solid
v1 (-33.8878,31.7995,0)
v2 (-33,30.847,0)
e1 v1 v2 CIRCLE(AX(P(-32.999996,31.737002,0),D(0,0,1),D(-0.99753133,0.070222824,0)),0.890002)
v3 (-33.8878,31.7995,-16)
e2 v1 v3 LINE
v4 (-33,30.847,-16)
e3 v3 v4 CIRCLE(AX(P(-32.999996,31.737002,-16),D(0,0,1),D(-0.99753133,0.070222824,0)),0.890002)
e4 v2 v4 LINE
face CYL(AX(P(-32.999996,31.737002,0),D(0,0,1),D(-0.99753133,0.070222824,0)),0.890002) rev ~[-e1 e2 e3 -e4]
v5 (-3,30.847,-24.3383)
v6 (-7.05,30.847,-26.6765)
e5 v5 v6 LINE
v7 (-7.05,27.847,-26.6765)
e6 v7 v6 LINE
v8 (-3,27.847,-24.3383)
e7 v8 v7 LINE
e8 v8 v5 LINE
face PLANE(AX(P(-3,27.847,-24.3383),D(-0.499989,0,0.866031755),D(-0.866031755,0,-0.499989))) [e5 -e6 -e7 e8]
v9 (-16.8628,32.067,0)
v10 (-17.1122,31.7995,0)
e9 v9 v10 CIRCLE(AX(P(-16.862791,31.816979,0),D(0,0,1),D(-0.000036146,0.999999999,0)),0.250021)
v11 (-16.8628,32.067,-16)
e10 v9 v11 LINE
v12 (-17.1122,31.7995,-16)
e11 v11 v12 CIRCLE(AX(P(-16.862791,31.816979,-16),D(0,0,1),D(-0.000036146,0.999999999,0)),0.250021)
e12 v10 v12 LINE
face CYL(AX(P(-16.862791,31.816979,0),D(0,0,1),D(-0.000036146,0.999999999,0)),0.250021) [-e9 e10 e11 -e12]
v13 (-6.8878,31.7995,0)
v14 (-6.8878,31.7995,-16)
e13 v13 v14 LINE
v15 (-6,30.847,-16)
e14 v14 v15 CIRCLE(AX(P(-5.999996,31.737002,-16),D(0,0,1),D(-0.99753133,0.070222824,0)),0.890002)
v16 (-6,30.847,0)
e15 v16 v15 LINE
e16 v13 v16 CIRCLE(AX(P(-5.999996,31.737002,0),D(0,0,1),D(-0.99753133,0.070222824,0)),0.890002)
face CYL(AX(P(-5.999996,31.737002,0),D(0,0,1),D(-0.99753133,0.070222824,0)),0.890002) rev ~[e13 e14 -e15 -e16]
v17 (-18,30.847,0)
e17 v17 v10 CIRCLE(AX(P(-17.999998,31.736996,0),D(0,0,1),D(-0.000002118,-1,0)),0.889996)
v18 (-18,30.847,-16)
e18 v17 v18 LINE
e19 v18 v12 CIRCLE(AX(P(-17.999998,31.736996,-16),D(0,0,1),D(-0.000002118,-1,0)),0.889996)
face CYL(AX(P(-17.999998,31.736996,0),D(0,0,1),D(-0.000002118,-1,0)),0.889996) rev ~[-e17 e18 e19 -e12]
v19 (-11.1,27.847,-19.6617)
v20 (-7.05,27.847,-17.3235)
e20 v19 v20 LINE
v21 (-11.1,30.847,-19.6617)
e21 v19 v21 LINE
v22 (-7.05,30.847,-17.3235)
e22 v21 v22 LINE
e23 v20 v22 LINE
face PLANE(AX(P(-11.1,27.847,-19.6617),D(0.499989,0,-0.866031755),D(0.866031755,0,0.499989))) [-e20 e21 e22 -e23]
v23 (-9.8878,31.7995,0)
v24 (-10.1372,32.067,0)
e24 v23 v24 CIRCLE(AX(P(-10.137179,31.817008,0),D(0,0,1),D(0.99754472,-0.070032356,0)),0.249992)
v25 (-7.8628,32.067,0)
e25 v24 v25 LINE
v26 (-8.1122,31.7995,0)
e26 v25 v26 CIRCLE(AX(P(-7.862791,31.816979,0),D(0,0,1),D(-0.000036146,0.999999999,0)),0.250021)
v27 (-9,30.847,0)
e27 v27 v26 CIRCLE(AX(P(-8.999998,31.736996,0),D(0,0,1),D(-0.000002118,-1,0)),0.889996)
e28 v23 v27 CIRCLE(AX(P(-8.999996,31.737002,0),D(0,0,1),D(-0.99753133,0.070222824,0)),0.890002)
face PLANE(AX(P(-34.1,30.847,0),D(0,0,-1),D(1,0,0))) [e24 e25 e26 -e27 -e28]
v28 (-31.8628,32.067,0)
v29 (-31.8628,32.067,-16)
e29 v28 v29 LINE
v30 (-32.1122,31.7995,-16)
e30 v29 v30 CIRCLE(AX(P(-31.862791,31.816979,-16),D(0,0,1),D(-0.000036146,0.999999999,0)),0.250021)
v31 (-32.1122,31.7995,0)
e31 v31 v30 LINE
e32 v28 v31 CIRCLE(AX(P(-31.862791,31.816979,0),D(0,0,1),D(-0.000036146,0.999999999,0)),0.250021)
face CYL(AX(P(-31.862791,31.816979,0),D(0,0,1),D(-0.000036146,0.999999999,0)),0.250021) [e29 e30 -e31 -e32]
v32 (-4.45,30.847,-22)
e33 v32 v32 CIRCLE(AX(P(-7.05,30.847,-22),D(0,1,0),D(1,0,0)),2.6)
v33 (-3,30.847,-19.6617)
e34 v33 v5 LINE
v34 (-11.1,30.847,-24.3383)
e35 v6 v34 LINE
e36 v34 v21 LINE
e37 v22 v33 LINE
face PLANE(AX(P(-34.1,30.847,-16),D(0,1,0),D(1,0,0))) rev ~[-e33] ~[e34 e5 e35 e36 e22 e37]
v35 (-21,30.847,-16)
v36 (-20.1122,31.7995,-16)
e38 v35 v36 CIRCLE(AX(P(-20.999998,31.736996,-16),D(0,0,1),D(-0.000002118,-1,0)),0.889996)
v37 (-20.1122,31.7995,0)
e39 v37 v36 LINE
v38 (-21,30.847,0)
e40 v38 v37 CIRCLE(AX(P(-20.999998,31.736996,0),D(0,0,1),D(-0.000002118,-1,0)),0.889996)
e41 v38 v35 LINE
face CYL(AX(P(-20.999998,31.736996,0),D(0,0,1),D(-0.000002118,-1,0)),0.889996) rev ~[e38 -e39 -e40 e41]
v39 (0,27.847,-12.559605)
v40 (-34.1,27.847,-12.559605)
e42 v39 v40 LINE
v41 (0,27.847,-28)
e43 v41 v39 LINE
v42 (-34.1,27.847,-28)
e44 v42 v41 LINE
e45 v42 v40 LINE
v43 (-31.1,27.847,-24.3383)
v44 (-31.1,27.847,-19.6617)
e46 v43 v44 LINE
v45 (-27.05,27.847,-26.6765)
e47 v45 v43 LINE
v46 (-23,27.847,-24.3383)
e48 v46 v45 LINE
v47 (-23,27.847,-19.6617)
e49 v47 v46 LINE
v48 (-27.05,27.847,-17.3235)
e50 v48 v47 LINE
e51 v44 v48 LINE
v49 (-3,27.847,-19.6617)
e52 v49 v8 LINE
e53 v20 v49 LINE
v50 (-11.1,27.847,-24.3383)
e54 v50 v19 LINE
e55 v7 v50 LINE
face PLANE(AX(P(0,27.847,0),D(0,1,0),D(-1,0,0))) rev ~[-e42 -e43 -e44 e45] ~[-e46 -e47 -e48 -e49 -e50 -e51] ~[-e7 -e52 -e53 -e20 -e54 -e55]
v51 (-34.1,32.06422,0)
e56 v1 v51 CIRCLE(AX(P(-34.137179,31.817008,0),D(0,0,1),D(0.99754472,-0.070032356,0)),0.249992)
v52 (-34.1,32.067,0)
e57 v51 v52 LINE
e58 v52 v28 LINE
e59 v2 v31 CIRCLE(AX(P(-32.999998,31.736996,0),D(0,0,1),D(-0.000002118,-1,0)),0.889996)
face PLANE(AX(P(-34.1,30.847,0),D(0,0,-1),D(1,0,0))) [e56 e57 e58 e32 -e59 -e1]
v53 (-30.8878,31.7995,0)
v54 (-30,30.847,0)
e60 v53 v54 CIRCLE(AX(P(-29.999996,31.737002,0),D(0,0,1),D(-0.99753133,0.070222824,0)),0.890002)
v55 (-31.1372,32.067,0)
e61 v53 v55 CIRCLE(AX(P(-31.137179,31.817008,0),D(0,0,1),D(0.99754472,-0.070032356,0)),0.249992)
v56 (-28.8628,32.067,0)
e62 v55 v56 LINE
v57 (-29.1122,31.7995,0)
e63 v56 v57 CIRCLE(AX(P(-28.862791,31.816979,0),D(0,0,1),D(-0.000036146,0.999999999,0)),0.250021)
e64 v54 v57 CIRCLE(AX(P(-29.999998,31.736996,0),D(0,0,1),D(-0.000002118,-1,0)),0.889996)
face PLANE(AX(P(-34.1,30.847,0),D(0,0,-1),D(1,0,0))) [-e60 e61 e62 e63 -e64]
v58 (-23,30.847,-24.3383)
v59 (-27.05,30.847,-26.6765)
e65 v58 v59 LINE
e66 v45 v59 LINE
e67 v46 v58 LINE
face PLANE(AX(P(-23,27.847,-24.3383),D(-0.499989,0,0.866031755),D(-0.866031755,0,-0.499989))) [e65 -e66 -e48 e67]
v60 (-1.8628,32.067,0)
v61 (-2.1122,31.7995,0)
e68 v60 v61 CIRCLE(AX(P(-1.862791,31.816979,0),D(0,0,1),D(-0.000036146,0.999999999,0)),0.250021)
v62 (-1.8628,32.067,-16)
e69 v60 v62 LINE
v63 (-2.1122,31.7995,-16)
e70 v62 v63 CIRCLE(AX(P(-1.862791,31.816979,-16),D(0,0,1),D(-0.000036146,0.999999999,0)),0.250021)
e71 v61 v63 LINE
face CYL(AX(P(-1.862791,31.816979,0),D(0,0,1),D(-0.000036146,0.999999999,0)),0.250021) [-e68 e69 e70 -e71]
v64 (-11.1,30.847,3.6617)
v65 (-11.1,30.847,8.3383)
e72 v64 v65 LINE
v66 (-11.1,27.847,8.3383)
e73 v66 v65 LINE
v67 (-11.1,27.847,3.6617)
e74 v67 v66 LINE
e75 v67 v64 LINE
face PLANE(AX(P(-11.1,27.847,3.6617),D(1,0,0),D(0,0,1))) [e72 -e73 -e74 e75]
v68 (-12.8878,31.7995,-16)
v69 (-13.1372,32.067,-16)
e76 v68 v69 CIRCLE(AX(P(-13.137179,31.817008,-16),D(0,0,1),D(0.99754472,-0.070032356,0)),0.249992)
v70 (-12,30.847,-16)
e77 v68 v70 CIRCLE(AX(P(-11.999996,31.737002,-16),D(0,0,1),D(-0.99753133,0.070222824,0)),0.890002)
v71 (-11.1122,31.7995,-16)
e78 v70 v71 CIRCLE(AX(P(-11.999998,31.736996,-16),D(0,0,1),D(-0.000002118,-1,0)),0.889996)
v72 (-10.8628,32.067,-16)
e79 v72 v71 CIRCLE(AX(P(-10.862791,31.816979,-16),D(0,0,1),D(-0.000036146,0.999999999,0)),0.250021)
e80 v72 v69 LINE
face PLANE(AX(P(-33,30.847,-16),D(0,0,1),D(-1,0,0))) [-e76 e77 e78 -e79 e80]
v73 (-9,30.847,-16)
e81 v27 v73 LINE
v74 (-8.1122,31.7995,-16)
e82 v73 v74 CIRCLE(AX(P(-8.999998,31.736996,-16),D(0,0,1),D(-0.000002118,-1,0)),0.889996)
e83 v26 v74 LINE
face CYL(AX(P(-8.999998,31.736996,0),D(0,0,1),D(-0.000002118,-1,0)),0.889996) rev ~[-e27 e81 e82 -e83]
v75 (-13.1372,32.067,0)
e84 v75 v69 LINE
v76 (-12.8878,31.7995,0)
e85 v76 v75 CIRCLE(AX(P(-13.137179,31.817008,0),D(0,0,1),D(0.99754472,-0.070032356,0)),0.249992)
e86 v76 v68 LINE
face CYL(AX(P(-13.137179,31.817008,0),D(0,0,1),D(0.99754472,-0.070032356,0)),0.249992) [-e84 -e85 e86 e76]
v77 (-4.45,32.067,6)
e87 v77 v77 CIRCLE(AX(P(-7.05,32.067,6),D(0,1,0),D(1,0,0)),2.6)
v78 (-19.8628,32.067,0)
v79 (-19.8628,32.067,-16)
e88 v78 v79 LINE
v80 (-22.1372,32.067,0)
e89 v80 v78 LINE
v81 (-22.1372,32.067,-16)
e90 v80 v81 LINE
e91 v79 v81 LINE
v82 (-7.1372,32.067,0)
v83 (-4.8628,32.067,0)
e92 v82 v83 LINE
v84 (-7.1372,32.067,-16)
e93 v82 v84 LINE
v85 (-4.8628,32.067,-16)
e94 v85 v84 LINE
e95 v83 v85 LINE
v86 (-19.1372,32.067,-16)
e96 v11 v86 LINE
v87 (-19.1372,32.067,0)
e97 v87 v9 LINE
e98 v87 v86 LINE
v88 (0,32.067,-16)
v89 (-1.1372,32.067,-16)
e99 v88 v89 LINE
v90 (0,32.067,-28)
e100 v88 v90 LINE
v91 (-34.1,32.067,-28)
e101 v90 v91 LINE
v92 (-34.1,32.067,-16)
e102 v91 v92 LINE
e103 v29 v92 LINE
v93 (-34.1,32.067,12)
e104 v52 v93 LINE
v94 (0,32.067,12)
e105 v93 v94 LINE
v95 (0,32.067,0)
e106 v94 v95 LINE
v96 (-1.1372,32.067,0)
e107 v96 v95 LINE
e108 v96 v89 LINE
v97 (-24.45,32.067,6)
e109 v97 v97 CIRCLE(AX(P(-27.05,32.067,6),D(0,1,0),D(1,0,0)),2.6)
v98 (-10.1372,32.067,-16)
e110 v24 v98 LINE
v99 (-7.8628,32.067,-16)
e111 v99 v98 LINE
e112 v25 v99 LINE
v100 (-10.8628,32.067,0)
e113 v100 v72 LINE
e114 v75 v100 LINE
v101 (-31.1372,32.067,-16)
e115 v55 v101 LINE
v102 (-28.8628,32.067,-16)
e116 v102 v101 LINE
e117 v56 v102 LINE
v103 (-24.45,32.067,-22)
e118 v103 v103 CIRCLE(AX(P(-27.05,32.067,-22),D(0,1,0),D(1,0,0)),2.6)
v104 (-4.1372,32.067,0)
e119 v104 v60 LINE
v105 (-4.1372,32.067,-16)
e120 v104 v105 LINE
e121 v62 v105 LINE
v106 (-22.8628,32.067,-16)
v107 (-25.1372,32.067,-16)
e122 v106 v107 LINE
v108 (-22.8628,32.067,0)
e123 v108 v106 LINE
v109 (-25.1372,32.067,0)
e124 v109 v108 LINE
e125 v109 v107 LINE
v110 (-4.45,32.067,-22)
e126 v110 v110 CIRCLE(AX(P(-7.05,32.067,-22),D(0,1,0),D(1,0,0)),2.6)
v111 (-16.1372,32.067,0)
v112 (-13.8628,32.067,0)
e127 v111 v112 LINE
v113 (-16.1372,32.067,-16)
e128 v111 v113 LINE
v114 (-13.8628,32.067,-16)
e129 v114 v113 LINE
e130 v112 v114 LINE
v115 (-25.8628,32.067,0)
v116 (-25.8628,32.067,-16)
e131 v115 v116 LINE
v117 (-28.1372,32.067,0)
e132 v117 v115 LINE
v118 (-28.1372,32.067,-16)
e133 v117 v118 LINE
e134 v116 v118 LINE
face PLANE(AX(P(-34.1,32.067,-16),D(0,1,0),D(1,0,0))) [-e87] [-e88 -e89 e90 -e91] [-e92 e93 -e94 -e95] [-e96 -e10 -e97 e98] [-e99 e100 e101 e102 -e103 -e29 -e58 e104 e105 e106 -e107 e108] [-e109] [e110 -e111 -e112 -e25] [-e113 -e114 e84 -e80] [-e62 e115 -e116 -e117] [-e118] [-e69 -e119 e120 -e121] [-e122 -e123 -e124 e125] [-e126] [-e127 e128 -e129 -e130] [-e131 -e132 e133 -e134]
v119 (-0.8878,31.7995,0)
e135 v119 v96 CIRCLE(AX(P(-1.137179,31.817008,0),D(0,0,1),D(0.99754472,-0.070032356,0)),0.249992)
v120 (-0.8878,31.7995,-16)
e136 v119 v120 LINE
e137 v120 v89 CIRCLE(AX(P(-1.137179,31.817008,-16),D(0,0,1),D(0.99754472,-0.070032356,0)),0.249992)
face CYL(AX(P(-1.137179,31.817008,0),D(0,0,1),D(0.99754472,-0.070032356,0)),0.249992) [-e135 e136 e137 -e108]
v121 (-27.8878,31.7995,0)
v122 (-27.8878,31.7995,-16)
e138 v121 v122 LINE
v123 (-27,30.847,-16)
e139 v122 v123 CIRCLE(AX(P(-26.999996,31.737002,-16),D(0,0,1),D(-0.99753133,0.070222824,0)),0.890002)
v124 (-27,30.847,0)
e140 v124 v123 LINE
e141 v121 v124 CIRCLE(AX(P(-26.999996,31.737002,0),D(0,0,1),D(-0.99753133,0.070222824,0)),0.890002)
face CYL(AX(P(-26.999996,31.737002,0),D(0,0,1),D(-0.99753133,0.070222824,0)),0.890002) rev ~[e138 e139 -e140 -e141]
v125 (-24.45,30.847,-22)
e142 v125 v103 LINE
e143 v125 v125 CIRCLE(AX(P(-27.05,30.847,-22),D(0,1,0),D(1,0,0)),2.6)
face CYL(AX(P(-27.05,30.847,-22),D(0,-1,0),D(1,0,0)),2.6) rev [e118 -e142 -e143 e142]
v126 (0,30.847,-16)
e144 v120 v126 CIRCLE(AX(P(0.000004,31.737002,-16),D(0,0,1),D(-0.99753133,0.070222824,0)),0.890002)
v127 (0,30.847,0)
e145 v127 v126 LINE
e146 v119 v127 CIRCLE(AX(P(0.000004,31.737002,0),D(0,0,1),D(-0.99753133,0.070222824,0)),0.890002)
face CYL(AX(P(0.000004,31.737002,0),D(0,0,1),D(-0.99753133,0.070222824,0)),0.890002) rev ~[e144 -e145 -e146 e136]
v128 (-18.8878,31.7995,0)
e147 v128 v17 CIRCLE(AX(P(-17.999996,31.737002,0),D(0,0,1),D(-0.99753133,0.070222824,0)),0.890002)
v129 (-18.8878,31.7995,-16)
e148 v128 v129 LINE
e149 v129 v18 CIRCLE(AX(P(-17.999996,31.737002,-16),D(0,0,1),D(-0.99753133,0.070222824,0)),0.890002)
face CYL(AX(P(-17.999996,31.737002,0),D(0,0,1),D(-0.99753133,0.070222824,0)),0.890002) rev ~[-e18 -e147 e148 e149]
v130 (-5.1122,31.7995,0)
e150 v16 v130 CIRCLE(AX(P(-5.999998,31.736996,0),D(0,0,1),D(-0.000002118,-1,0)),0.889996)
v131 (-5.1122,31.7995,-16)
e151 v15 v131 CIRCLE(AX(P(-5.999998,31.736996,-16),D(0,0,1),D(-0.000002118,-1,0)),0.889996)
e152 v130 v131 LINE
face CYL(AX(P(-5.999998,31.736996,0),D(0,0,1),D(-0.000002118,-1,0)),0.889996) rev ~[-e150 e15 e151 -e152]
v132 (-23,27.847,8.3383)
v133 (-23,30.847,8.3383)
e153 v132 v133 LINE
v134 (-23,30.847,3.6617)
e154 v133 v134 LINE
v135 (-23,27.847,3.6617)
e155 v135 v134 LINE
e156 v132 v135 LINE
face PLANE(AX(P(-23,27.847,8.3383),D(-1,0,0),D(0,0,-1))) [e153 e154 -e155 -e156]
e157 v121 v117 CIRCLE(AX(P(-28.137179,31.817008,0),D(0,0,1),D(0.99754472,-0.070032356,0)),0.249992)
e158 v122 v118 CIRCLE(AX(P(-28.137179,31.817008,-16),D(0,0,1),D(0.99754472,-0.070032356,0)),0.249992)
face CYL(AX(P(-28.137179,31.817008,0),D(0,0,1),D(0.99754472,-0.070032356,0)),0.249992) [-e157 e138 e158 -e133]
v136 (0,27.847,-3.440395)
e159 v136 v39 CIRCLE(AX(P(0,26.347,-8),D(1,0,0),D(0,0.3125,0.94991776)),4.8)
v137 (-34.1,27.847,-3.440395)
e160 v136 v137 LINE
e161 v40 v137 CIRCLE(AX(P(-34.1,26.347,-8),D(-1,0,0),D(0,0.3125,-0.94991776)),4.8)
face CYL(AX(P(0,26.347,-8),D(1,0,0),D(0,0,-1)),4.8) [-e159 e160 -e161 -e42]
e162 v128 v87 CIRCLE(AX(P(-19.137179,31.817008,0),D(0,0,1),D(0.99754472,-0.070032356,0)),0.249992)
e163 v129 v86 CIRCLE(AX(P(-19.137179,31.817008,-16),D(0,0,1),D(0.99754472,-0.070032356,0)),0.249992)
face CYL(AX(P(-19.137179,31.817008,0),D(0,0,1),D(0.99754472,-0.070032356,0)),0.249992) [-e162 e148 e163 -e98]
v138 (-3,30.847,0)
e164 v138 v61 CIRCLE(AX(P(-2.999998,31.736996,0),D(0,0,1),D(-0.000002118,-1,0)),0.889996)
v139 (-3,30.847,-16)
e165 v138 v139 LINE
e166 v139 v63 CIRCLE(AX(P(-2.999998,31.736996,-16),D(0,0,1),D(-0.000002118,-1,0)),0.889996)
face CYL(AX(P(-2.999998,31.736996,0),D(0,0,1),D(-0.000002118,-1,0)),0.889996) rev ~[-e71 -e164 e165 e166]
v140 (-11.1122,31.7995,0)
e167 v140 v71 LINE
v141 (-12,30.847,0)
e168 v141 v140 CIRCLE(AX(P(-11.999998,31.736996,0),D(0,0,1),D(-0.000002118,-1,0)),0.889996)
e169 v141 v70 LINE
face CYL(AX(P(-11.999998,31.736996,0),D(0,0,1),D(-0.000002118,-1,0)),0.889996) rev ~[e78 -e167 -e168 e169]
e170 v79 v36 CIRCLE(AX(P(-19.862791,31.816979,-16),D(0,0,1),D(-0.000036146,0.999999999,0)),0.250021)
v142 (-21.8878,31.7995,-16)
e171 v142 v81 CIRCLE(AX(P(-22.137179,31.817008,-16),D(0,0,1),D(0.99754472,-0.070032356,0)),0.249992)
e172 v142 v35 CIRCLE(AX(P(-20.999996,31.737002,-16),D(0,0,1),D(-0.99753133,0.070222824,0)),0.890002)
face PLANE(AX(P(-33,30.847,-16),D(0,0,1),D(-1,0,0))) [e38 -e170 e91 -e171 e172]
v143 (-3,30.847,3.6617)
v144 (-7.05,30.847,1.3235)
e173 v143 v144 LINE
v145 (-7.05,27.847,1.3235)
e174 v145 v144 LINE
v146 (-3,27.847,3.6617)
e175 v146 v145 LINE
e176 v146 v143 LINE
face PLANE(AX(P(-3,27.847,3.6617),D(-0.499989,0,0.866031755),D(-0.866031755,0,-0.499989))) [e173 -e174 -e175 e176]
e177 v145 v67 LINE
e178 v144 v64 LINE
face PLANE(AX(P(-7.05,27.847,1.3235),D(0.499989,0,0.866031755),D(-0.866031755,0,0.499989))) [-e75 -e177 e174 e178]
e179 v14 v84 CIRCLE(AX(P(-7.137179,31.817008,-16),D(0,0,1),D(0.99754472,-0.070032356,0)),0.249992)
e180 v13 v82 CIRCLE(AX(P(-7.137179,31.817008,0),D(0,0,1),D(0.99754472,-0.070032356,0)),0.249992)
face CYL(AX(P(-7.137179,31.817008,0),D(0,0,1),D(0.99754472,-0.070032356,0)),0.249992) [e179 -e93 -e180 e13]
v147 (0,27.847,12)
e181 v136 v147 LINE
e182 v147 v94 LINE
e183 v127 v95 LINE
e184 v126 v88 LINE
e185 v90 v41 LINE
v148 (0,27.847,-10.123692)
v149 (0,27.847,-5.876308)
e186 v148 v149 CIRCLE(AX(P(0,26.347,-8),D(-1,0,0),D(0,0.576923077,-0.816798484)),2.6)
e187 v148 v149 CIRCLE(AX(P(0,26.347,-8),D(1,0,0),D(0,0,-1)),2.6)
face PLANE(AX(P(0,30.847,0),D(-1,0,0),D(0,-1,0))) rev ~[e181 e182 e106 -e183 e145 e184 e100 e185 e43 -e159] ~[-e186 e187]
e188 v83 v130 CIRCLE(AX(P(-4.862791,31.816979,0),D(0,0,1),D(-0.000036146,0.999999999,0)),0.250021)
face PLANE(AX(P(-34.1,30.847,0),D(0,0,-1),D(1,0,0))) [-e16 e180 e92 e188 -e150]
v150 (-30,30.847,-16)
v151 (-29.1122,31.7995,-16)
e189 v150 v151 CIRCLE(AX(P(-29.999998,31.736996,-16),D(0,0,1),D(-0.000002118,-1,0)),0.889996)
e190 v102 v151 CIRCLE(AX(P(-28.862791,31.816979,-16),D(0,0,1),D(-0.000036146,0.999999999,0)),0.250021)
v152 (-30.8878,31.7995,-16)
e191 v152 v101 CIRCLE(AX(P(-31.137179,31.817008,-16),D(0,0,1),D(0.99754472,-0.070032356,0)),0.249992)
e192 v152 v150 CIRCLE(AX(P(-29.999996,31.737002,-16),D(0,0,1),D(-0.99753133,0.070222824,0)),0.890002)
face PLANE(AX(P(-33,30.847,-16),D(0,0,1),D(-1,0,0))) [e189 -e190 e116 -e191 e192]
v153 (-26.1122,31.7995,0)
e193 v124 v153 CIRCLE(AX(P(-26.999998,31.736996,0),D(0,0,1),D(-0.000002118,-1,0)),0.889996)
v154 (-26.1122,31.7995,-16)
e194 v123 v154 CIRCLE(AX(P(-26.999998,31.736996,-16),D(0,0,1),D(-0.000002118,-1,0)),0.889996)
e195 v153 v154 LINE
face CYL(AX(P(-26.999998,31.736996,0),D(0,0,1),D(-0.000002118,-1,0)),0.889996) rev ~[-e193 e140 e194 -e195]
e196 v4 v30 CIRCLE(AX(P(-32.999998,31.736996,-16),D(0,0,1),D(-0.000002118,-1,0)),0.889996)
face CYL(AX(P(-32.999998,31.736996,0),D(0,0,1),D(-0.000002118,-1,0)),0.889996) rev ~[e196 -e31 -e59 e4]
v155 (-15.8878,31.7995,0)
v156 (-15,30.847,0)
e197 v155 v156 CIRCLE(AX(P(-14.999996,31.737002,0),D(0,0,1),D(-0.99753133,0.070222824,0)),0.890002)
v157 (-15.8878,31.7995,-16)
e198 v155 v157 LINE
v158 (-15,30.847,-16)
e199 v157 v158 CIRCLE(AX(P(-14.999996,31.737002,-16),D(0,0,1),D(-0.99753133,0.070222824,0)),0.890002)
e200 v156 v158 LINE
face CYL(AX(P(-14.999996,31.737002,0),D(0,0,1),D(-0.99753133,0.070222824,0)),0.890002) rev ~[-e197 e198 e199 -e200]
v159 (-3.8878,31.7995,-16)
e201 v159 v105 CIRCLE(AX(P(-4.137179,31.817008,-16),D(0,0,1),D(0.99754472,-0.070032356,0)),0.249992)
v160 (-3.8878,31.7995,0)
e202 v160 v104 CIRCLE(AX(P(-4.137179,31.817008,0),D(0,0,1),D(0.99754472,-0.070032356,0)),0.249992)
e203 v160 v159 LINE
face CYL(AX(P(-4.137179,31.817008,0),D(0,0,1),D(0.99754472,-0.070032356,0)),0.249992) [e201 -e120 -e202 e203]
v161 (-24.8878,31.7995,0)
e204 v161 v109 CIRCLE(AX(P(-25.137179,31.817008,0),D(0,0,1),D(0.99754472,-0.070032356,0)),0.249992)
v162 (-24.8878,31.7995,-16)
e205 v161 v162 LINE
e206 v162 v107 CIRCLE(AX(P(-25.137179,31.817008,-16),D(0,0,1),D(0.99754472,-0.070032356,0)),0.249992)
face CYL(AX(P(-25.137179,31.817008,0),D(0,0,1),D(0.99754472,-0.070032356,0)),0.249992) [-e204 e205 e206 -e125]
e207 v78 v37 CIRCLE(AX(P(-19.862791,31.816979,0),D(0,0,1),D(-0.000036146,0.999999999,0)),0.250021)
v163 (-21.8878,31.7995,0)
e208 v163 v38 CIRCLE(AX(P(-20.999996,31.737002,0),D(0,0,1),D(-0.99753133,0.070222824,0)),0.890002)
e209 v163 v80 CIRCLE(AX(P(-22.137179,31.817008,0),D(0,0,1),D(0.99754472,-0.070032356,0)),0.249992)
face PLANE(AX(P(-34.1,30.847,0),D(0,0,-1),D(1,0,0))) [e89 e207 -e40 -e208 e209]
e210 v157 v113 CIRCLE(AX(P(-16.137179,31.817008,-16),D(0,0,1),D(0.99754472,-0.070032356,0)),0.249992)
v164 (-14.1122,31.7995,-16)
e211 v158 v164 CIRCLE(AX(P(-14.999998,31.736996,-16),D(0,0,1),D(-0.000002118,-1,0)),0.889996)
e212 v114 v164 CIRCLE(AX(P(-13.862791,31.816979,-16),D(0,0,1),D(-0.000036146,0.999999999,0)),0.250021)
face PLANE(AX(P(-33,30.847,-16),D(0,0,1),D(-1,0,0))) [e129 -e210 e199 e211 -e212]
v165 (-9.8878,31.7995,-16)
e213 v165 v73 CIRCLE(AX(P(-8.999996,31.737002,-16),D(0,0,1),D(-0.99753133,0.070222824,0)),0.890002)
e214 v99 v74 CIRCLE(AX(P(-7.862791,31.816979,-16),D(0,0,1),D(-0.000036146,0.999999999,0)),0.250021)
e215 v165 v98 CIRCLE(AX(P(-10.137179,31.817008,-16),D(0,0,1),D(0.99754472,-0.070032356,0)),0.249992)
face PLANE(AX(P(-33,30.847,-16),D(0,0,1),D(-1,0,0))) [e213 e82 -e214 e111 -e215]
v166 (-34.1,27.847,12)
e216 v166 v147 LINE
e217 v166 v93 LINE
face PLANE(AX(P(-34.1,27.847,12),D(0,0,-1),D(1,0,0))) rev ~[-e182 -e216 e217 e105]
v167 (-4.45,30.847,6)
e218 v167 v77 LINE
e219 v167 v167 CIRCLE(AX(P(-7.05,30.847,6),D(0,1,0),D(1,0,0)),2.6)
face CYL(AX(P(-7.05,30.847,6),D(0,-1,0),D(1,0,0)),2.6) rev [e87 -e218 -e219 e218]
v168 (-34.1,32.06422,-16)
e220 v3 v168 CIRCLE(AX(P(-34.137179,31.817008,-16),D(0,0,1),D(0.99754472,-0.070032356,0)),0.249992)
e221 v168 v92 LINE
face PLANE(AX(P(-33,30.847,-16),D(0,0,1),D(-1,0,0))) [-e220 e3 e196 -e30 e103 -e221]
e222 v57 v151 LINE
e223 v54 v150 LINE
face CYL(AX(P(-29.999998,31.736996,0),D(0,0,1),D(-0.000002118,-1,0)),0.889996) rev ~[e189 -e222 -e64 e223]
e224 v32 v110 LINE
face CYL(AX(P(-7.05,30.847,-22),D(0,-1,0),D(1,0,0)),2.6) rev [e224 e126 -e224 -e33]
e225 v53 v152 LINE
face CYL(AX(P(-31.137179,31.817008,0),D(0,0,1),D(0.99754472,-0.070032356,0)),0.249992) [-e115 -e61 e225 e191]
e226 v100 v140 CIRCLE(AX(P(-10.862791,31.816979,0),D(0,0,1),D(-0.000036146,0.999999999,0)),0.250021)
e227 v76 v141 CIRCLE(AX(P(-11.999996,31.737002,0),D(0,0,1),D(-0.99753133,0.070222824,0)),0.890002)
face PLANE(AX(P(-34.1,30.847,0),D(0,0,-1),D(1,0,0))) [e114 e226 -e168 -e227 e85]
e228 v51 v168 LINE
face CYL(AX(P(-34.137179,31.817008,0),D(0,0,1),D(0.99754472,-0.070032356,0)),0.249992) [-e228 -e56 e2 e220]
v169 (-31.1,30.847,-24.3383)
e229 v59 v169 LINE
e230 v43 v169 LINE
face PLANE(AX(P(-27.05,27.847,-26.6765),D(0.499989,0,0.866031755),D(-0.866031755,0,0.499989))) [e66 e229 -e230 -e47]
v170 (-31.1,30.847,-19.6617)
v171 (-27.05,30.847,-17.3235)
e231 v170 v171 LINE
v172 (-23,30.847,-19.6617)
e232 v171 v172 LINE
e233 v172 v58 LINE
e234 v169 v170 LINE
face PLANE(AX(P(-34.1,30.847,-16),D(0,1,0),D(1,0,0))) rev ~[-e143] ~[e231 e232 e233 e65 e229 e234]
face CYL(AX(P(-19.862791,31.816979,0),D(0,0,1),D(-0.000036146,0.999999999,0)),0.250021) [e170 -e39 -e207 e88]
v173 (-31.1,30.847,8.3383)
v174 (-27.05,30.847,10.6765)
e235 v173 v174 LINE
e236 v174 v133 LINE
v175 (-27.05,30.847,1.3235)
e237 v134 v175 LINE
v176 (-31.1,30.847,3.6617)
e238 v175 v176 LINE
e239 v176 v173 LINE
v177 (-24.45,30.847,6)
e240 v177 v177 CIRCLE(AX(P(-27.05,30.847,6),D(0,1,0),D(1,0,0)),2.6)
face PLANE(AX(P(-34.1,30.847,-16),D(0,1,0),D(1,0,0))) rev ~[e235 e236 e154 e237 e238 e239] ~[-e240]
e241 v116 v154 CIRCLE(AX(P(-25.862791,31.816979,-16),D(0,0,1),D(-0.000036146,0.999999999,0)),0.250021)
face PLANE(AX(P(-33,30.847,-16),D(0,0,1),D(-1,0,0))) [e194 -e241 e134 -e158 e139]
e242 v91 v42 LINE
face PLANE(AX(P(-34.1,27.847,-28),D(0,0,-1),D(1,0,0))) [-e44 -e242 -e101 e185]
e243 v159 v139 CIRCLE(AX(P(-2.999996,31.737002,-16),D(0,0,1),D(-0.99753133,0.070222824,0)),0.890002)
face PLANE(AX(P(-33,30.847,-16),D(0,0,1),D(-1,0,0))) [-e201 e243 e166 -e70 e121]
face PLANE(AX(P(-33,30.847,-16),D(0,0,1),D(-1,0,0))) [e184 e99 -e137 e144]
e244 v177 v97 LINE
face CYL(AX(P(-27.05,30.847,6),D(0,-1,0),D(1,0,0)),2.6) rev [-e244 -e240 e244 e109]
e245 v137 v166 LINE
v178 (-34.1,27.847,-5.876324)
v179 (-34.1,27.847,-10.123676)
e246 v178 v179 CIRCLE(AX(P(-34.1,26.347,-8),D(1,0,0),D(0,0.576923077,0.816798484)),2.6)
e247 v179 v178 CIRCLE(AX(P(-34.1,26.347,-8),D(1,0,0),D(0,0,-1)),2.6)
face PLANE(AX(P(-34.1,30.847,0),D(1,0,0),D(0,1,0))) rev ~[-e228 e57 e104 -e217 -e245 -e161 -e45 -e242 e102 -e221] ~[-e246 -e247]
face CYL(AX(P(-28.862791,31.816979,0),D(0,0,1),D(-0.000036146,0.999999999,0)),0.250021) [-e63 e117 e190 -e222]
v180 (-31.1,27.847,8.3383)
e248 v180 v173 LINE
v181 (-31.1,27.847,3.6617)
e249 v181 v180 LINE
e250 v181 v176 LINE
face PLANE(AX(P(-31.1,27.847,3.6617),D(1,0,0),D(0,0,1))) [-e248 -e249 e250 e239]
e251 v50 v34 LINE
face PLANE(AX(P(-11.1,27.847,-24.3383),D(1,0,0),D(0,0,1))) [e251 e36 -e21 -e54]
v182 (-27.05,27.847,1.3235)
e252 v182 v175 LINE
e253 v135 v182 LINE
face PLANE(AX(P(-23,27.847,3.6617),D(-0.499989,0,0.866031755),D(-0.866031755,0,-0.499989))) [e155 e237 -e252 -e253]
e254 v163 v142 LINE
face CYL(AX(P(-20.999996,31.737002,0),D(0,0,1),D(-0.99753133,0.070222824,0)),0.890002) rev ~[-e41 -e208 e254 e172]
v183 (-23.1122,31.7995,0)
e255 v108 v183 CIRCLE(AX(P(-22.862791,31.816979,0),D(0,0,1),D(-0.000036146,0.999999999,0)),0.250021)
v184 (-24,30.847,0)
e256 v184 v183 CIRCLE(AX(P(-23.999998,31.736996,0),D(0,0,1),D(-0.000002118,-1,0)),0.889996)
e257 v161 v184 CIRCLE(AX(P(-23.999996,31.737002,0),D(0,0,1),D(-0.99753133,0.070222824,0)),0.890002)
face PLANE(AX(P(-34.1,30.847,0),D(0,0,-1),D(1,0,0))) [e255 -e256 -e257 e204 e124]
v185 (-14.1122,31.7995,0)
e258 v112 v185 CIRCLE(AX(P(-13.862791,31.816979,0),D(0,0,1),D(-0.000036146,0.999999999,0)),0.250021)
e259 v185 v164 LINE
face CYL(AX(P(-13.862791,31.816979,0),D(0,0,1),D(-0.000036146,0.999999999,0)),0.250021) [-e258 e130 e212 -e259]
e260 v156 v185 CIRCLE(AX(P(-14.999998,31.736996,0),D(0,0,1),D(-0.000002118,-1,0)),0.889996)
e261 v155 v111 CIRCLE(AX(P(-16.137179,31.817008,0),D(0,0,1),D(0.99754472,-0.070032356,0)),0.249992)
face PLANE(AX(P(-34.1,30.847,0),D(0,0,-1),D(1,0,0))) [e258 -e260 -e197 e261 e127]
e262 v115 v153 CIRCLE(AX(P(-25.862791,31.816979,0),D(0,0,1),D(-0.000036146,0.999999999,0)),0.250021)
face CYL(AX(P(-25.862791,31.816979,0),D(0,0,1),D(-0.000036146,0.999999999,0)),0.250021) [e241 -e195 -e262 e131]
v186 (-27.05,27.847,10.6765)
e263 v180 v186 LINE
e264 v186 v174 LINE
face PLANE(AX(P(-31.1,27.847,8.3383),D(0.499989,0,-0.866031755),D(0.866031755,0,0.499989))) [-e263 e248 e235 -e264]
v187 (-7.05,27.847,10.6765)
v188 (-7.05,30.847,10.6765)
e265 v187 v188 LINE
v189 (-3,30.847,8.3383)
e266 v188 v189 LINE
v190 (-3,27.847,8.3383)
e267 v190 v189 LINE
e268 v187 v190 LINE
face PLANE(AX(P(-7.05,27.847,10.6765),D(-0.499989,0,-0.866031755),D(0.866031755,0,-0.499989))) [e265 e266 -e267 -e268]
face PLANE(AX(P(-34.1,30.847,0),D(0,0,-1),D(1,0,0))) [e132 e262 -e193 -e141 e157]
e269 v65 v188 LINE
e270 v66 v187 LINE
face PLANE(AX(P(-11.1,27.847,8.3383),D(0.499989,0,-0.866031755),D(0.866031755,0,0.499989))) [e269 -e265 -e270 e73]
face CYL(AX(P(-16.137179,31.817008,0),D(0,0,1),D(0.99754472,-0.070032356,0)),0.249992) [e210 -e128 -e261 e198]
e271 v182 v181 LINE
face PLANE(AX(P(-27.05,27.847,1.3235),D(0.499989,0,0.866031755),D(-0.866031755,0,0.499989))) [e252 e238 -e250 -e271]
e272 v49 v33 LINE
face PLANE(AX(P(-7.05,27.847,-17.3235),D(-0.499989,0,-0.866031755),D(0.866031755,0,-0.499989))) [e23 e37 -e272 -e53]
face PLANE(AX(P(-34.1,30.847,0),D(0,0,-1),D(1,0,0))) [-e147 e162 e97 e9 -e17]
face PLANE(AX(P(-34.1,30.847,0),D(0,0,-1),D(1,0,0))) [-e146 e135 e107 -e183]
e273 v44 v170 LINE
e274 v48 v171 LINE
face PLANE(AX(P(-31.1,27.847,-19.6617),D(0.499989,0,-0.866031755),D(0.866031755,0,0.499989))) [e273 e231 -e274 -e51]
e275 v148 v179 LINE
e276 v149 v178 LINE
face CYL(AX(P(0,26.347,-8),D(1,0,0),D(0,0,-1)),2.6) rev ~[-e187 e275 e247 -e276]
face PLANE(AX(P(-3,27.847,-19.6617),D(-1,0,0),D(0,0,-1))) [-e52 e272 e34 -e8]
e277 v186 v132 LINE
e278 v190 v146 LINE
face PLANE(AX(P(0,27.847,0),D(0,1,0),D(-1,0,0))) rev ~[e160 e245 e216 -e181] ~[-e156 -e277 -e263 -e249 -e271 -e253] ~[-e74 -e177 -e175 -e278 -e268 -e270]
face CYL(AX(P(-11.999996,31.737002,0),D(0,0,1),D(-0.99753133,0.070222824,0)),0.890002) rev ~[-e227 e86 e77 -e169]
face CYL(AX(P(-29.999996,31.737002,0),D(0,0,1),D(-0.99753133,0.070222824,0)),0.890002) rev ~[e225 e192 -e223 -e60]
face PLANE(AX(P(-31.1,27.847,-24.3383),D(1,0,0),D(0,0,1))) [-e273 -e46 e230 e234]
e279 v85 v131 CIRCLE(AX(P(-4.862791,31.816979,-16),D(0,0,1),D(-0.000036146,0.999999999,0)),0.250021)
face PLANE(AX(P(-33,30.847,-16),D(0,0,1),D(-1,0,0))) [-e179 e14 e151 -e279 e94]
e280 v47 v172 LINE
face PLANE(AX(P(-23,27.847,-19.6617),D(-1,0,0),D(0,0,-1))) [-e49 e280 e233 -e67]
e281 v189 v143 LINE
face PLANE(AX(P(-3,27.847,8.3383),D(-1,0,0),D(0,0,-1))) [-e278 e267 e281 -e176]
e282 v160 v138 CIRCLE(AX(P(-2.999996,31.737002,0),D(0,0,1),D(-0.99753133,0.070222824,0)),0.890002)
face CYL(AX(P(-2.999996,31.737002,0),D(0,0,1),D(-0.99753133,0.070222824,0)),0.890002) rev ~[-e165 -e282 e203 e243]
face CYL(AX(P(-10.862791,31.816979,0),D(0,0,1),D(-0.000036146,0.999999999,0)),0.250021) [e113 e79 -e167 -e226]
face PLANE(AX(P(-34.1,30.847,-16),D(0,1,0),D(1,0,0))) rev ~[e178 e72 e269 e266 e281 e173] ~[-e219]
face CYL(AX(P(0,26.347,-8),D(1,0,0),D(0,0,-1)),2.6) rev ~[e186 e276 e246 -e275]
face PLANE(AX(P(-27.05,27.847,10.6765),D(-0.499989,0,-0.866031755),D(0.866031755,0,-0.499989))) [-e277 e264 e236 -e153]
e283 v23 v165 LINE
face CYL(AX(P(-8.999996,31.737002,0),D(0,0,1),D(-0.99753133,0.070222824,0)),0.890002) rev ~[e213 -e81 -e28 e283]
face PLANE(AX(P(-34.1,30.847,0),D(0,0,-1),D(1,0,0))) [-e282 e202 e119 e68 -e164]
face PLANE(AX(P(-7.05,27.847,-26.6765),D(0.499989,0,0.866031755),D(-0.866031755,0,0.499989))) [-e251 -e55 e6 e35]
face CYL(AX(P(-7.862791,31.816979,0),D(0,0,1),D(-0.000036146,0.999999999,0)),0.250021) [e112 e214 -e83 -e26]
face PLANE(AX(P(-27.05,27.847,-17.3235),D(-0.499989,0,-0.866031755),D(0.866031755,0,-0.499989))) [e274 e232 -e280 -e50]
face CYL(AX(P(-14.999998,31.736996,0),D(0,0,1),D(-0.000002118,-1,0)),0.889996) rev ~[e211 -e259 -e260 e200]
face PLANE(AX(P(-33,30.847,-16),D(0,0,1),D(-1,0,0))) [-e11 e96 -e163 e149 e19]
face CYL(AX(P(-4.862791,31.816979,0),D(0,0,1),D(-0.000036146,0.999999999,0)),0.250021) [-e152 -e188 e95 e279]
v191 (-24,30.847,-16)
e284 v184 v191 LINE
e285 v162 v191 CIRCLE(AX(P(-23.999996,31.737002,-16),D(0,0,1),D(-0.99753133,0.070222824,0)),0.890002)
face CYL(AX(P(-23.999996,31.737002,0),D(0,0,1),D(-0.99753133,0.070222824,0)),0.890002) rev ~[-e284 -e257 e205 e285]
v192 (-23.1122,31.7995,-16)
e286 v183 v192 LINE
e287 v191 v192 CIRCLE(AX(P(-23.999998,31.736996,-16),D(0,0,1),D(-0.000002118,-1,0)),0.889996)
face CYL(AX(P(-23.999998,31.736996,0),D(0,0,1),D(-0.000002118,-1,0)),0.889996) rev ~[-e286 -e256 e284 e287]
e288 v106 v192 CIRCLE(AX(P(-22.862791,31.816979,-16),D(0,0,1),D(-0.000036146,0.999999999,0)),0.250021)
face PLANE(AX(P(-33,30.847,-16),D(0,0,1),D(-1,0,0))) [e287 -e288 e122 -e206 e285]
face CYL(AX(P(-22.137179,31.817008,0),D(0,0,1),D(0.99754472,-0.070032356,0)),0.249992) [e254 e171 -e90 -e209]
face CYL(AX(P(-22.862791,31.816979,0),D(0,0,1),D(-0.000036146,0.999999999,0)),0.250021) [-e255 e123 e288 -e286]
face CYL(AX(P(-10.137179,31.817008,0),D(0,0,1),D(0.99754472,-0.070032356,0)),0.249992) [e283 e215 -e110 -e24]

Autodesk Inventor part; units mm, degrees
ref_plane "YZ Plane" through (0, 0, 0) normal (1, 0, 0) x (0, 1, 0)
ref_plane "XZ Plane" through (0, 0, 0) normal (0, 1, 0) x (-1, 0, 0)
ref_plane "XY Plane" through (0, 0, 0) normal (0, 0, 1) x (1, 0, 0)
sketch "Sketch1" plane through (0, 0, 0) normal (0, 0, 1) x (1, 0, 0)
  line L0 (-34.1, 30.847) -> (0, 30.847)
  line L1 (0, 33.247) -> (-34.1, 33.247)
  arc A0 (-0.8878, 31.7995) -> (0, 30.847) centre (0, 31.737) ccw
  line L2 (-3, 33.247) -> (-3, 30.847) construction
  line L3 (-7.3, 30.847) -> (-2.1, 30.847)
  line L4 (0, 30.847) -> (-34.1, 30.847) construction
  line L5 (0, 33.247) -> (0, 30.847)
  arc A1 (-3, 30.847) -> (-2.1122, 31.7995) centre (-3, 31.737) ccw
  line L6 (-34.1, 32.067) -> (-3, 32.067) construction
  line L7 (-1.8628, 32.067) -> (-1.1372, 32.067)
  arc A2 (-1.8628, 32.067) -> (-2.1122, 31.7995) centre (-1.8628, 31.817) ccw
  arc A3 (-0.8878, 31.7995) -> (-1.1372, 32.067) centre (-1.1372, 31.817) ccw
  arc A4 (-3.8878, 31.7995) -> (-3, 30.847) centre (-3, 31.737) ccw
  arc A5 (-3.8878, 31.7995) -> (-4.1372, 32.067) centre (-4.1372, 31.817) ccw
  line L8 (-4.1372, 32.067) -> (-4.8628, 32.067)
  arc A6 (-4.8628, 32.067) -> (-5.1122, 31.7995) centre (-4.8628, 31.817) ccw
  arc A7 (-6, 30.847) -> (-5.1122, 31.7995) centre (-6, 31.737) ccw
  line L9 (-6, 33.247) -> (-6, 30.847) construction
  line L10 (-9, 33.247) -> (-9, 30.847) construction
  arc A8 (-9, 30.847) -> (-8.1122, 31.7995) centre (-9, 31.737) ccw
  arc A9 (-7.8628, 32.067) -> (-8.1122, 31.7995) centre (-7.8628, 31.817) ccw
  line L11 (-7.1372, 32.067) -> (-7.8628, 32.067)
  arc A10 (-6.8878, 31.7995) -> (-7.1372, 32.067) centre (-7.1372, 31.817) ccw
  arc A11 (-6.8878, 31.7995) -> (-6, 30.847) centre (-6, 31.737) ccw
  line L12 (-12, 33.247) -> (-12, 30.847) construction
  arc A12 (-12, 30.847) -> (-11.1122, 31.7995) centre (-12, 31.737) ccw
  arc A13 (-10.8628, 32.067) -> (-11.1122, 31.7995) centre (-10.8628, 31.817) ccw
  line L13 (-10.1372, 32.067) -> (-10.8628, 32.067)
  arc A14 (-9.8878, 31.7995) -> (-10.1372, 32.067) centre (-10.1372, 31.817) ccw
  arc A15 (-9.8878, 31.7995) -> (-9, 30.847) centre (-9, 31.737) ccw
  line L14 (-15, 33.247) -> (-15, 30.847) construction
  arc A16 (-15, 30.847) -> (-14.1122, 31.7995) centre (-15, 31.737) ccw
  arc A17 (-13.8628, 32.067) -> (-14.1122, 31.7995) centre (-13.8628, 31.817) ccw
  line L15 (-13.1372, 32.067) -> (-13.8628, 32.067)
  arc A18 (-12.8878, 31.7995) -> (-13.1372, 32.067) centre (-13.1372, 31.817) ccw
  arc A19 (-12.8878, 31.7995) -> (-12, 30.847) centre (-12, 31.737) ccw
  line L16 (-18, 33.247) -> (-18, 30.847) construction
  arc A20 (-18, 30.847) -> (-17.1122, 31.7995) centre (-18, 31.737) ccw
  arc A21 (-16.8628, 32.067) -> (-17.1122, 31.7995) centre (-16.8628, 31.817) ccw
  line L17 (-16.1372, 32.067) -> (-16.8628, 32.067)
  arc A22 (-15.8878, 31.7995) -> (-16.1372, 32.067) centre (-16.1372, 31.817) ccw
  arc A23 (-15.8878, 31.7995) -> (-15, 30.847) centre (-15, 31.737) ccw
  line L18 (-21, 33.247) -> (-21, 30.847) construction
  arc A24 (-21, 30.847) -> (-20.1122, 31.7995) centre (-21, 31.737) ccw
  arc A25 (-19.8628, 32.067) -> (-20.1122, 31.7995) centre (-19.8628, 31.817) ccw
  line L19 (-19.1372, 32.067) -> (-19.8628, 32.067)
  arc A26 (-18.8878, 31.7995) -> (-19.1372, 32.067) centre (-19.1372, 31.817) ccw
  arc A27 (-18.8878, 31.7995) -> (-18, 30.847) centre (-18, 31.737) ccw
  line L20 (-24, 33.247) -> (-24, 30.847) construction
  arc A28 (-24, 30.847) -> (-23.1122, 31.7995) centre (-24, 31.737) ccw
  arc A29 (-22.8628, 32.067) -> (-23.1122, 31.7995) centre (-22.8628, 31.817) ccw
  line L21 (-22.1372, 32.067) -> (-22.8628, 32.067)
  arc A30 (-21.8878, 31.7995) -> (-22.1372, 32.067) centre (-22.1372, 31.817) ccw
  arc A31 (-21.8878, 31.7995) -> (-21, 30.847) centre (-21, 31.737) ccw
  line L22 (-27, 33.247) -> (-27, 30.847) construction
  arc A32 (-27, 30.847) -> (-26.1122, 31.7995) centre (-27, 31.737) ccw
  arc A33 (-25.8628, 32.067) -> (-26.1122, 31.7995) centre (-25.8628, 31.817) ccw
  line L23 (-25.1372, 32.067) -> (-25.8628, 32.067)
  arc A34 (-24.8878, 31.7995) -> (-25.1372, 32.067) centre (-25.1372, 31.817) ccw
  arc A35 (-24.8878, 31.7995) -> (-24, 30.847) centre (-24, 31.737) ccw
  line L24 (-30, 33.247) -> (-30, 30.847) construction
  arc A36 (-30, 30.847) -> (-29.1122, 31.7995) centre (-30, 31.737) ccw
  arc A37 (-28.8628, 32.067) -> (-29.1122, 31.7995) centre (-28.8628, 31.817) ccw
  line L25 (-28.1372, 32.067) -> (-28.8628, 32.067)
  arc A38 (-27.8878, 31.7995) -> (-28.1372, 32.067) centre (-28.1372, 31.817) ccw
  arc A39 (-27.8878, 31.7995) -> (-27, 30.847) centre (-27, 31.737) ccw
  line L26 (-33, 33.247) -> (-33, 30.847) construction
  arc A40 (-33, 30.847) -> (-32.1122, 31.7995) centre (-33, 31.737) ccw
  arc A41 (-31.8628, 32.067) -> (-32.1122, 31.7995) centre (-31.8628, 31.817) ccw
  line L27 (-31.1372, 32.067) -> (-31.8628, 32.067)
  arc A42 (-30.8878, 31.7995) -> (-31.1372, 32.067) centre (-31.1372, 31.817) ccw
  arc A43 (-30.8878, 31.7995) -> (-30, 30.847) centre (-30, 31.737) ccw
  line L28 (-36, 33.247) -> (-36, 30.847) construction
  arc A44 (-36, 30.847) -> (-35.1122, 31.7995) centre (-36, 31.737) ccw
  arc A45 (-34.8628, 32.067) -> (-35.1122, 31.7995) centre (-34.8628, 31.817) ccw
  line L29 (-34.1372, 32.067) -> (-34.8628, 32.067)
  arc A46 (-33.8878, 31.7995) -> (-34.1372, 32.067) centre (-34.1372, 31.817) ccw
  arc A47 (-33.8878, 31.7995) -> (-33, 30.847) centre (-33, 31.737) ccw
  line L30 (-34.1, 30.847) -> (-34.1, 33.247)
  line L31 (-34.1, 30.847) -> (0, 30.847)
  line L32 (0, 30.847) -> (0, 27.847)
  line L33 (0, 27.847) -> (-34.1, 27.847)
  line L34 (-34.1, 27.847) -> (-34.1, 30.847)
  point P0 (0, 0)
  point P1 (0, 20)
  point P2 (-0.8266, 32.067)
  point P3 (-2.1734, 32.067)
  point P4 (-34.1, 32.0642)
  point P5 (-34.1, 32.0642)
  dimension "d4" = 2.4
  dimension "d5" = 1.78
  dimension "d6" = 3
  dimension "d7" = 1.78
  dimension "d8" = 0.25
  dimension "d9" = 0.25
  dimension "d10" = 3
  dimension "d12" = 3
extrude "Extrusion1" add sketch "Sketch1" against normal blind 16 contours L30 A46 A47 L0 | L0 L32 L33 L34 | A40 A41 L27 A42 A43 L0 | A36 A37 L25 A38 A39 L0 | A32 A33 L23 A34 A35 L0 | L0 A1 A2 L7 A3 A0 | A28 A29 L21 A30 A31 L0 | A24 A25 L19 A26 A27 L0 | L0 A7 A6 L8 A5 A4 | A20 A21 L17 A22 A23 L0 | L0 A8 A9 L11 A10 A11 | A16 A17 L15 A18 A19 L0 | A12 A13 L13 A14 A15 L0
sketch "Sketch2" plane through (0, 27.847, 0) normal (1, 0, 0) x (0, 0, -1)
  line L0 (0, 0) -> (0, 3) projected
  line L1 (0, 0) -> (16, 0) projected
  line L2 (16, 3) -> (16, 0) projected
  line L3 (0, 3) -> (16, 3) projected
  line L4 (0, 0) -> (16, 0) construction
  line L5 (8, 0) -> (8, -9.1602) construction
  circle A0 centre (8, -1.5) radius 4.8
  circle A1 centre (8, -1.5) radius 2.6
  point P0 (0, -27.847)
  point P1 (5.8763, 0)
  point P2 (3.4404, 0)
  point P3 (12.5596, 0)
  point P4 (10.1237, 0)
  dimension "d15" = 9.6
  dimension "d16" = 1.5
  dimension "d17" = 5.2
extrude "Extrusion2" add sketch "Sketch2" against normal up to surface (34.1 mm away) contours L1 A1 A0
sketch "Sketch3" plane through (0, 27.847, 0) normal (1, 0, 0) x (0, 0, -1)
  arc A0 (5.8763, 0) -> (10.1237, 0) centre (8, -1.5) ccw projected
  line L0 (5.8763, 0) -> (10.1237, 0) projected
  circle A1 centre (8, -1.5) radius 2.6
  point P0 (0, -27.847)
extrude "Extrusion3" cut sketch "Sketch3" against normal through all contours A1 L0
sketch "Sketch4" plane through (-34.1, 27.847, -16) normal (0, -1, 0) x (1, 0, 0)
  line L0 (33.21, 16) -> (34.1, 16) projected
  line L1 (34.1, 16) -> (0, 16)
  line L2 (0, 16) -> (0, 28)
  line L3 (0, 28) -> (34.1, 28)
  line L4 (34.1, 28) -> (34.1, 16)
  line L5 (34.1, 3.4404) -> (34.1, 0) projected
  line L6 (34.1, 0) -> (0, 0)
  line L7 (0, 0) -> (0, -12)
  line L8 (0, -12) -> (34.1, -12)
  line L9 (34.1, -12) -> (34.1, 0)
  line L10 (34.1, 22) -> (0, 22) construction
  line L11 (34.1, -6) -> (0, -6) construction
  line L12 (27.05, 22) -> (7.05, 22) construction
  line L13 (7.05, 22) -> (7.05, -6) construction
  line L14 (7.05, -6) -> (27.05, -6) construction
  line L15 (27.05, -6) -> (27.05, 22) construction
  line L16 (23, 24.3383) -> (27.05, 26.6765)
  line L17 (27.05, 26.6765) -> (31.1, 24.3383)
  line L18 (31.1, 24.3383) -> (31.1, 19.6617)
  line L19 (31.1, 19.6617) -> (27.05, 17.3235)
  line L20 (27.05, 17.3235) -> (23, 19.6617)
  line L21 (23, 19.6617) -> (23, 24.3383)
  line L22 (31.1, -3.6617) -> (31.1, -8.3383)
  line L23 (27.05, -1.3235) -> (31.1, -3.6617)
  line L24 (23, -3.6617) -> (27.05, -1.3235)
  line L25 (23, -8.3383) -> (23, -3.6617)
  line L26 (27.05, -10.6765) -> (23, -8.3383)
  line L27 (31.1, -8.3383) -> (27.05, -10.6765)
  line L28 (11.1, 24.3383) -> (11.1, 19.6617)
  line L29 (7.05, 26.6765) -> (11.1, 24.3383)
  line L30 (3, 24.3383) -> (7.05, 26.6765)
  line L31 (3, 19.6617) -> (3, 24.3383)
  line L32 (7.05, 17.3235) -> (3, 19.6617)
  line L33 (11.1, 19.6617) -> (7.05, 17.3235)
  line L34 (11.1, -3.6617) -> (11.1, -8.3383)
  line L35 (7.05, -1.3235) -> (11.1, -3.6617)
  line L36 (3, -3.6617) -> (7.05, -1.3235)
  line L37 (3, -8.3383) -> (3, -3.6617)
  line L38 (7.05, -10.6765) -> (3, -8.3383)
  line L39 (11.1, -8.3383) -> (7.05, -10.6765)
  point P0 (33.2122, 16)
  point P1 (23, 22)
  point P2 (23, -6)
  point P3 (3, 22)
  point P4 (3, -6)
  dimension "d22" = 12
  dimension "d23" = 12
  dimension "d24" = 4.05
  dimension "d25" = 20
  dimension "d26" = 7.05
  dimension "d29" = 28
  dimension "d32" = 20
extrude "Extrusion4" add sketch "Sketch4" against normal blind 3
sketch "Sketch5" plane through (-34.1, 30.847, -16) normal (0, 1, 0) x (1, 0, 0)
  line L0 (3, -19.6617) -> (3, -24.3383) construction
  line L1 (3, -22) -> (11.1, -22) construction
  line L2 (11.1, -24.3383) -> (11.1, -19.6617) construction
  line L3 (23, 3.6617) -> (23, 8.3383) construction
  line L4 (23, 6) -> (31.1, 6) construction
  line L5 (31.1, 8.3383) -> (31.1, 3.6617) construction
  line L6 (7.05, -22) -> (27.05, -22) construction
  line L7 (27.05, -22) -> (27.05, 6) construction
  line L8 (27.05, 6) -> (7.05, 6) construction
  line L9 (7.05, 6) -> (7.05, -22) construction
  circle A0 centre (7.05, -22) radius 2.6
  circle A1 centre (7.05, 6) radius 2.6
  circle A2 centre (27.05, -22) radius 2.6
  circle A3 centre (27.05, 6) radius 2.6
  line L10 (0, -16) -> (0, -28) projected
  line L11 (0, -16) -> (0, 0) projected
  line L12 (0, 12) -> (0, 0) projected
  line L13 (34.1, 12) -> (0, 12) projected
  line L14 (34.1, 0) -> (34.1, 12) projected
  line L15 (34.1, -16) -> (34.1, 0) projected
  line L16 (34.1, -28) -> (34.1, -16) projected
  line L17 (0, -28) -> (34.1, -28) projected
  line L18 (0, -28) -> (34.1, -28) projected
  line L19 (34.1, -28) -> (34.1, -16) projected
  line L20 (31.1, -16) -> (34.1, -16) projected
  line L21 (28.1, -16) -> (31.1, -16) projected
  line L22 (25.1, -16) -> (28.1, -16) projected
  line L23 (22.1, -16) -> (25.1, -16) projected
  line L24 (19.1, -16) -> (22.1, -16) projected
  line L25 (16.1, -16) -> (19.1, -16) projected
  line L26 (13.1, -16) -> (16.1, -16) projected
  line L27 (10.1, -16) -> (13.1, -16) projected
  line L28 (7.1, -16) -> (10.1, -16) projected
  line L29 (4.1, -16) -> (7.1, -16) projected
  line L30 (1.1, -16) -> (4.1, -16) projected
  line L31 (0, -16) -> (1.1, -16) projected
  line L32 (0, -16) -> (0, -28) projected
  line L33 (11.1, -19.6617) -> (11.1, -24.3383) projected
  line L34 (11.1, -24.3383) -> (7.05, -26.6765) projected
  line L35 (7.05, -26.6765) -> (3, -24.3383) projected
  line L36 (3, -24.3383) -> (3, -19.6617) projected
  line L37 (3, -19.6617) -> (7.05, -17.3235) projected
  line L38 (7.05, -17.3235) -> (11.1, -19.6617) projected
  line L39 (27.05, -26.6765) -> (23, -24.3383) projected
  line L40 (23, -24.3383) -> (23, -19.6617) projected
  line L41 (23, -19.6617) -> (27.05, -17.3235) projected
  line L42 (27.05, -17.3235) -> (31.1, -19.6617) projected
  line L43 (31.1, -19.6617) -> (31.1, -24.3383) projected
  line L44 (31.1, -24.3383) -> (27.05, -26.6765) projected
  line L45 (34.1, 12) -> (0, 12) projected
  line L46 (0, 12) -> (0, 0) projected
  line L47 (1.1, 0) -> (0, 0) projected
  line L48 (4.1, 0) -> (1.1, 0) projected
  line L49 (7.1, 0) -> (4.1, 0) projected
  line L50 (10.1, 0) -> (7.1, 0) projected
  line L51 (13.1, 0) -> (10.1, 0) projected
  line L52 (16.1, 0) -> (13.1, 0) projected
  line L53 (19.1, 0) -> (16.1, 0) projected
  line L54 (22.1, 0) -> (19.1, 0) projected
  line L55 (25.1, 0) -> (22.1, 0) projected
  line L56 (28.1, 0) -> (25.1, 0) projected
  line L57 (31.1, 0) -> (28.1, 0) projected
  line L58 (34.1, 0) -> (31.1, 0) projected
  line L59 (34.1, 0) -> (34.1, 12) projected
  line L60 (11.1, 8.3383) -> (11.1, 3.6617) projected
  line L61 (11.1, 3.6617) -> (7.05, 1.3235) projected
  line L62 (7.05, 1.3235) -> (3, 3.6617) projected
  line L63 (3, 3.6617) -> (3, 8.3383) projected
  line L64 (3, 8.3383) -> (7.05, 10.6765) projected
  line L65 (7.05, 10.6765) -> (11.1, 8.3383) projected
  line L66 (31.1, 8.3383) -> (31.1, 3.6617) projected
  line L67 (31.1, 3.6617) -> (27.05, 1.3235) projected
  line L68 (27.05, 1.3235) -> (23, 3.6617) projected
  line L69 (23, 3.6617) -> (23, 8.3383) projected
  line L70 (23, 8.3383) -> (27.05, 10.6765) projected
  line L71 (27.05, 10.6765) -> (31.1, 8.3383) projected
  dimension "d37" = 5.2
  dimension "d38" = 5.2
  dimension "d39" = 5.2
  dimension "d40" = 5.2
extrude "Extrusion5" add sketch "Sketch5" along normal up to surface (1.22 mm away) contours L31 L30 L29 L28 L27 L26 L25 L24 L23 L22 L21 L20 L16 L17 L10 | L12 L13 L14 L58 L57 L56 L55 L54 L53 L52 L51 L50 L49 L48 L47 | L33 L34 L35 L36 L37 L38 | L39 L40 L41 L42 L43 L44 | L60 L61 L62 L63 L64 L65 | L66 L67 L68 L69 L70 L71
equation "\"d7\" = d5"
equation "\"d23\" = d22"
properties part number "Y Axis Belt Adjustable Grip Plate"
